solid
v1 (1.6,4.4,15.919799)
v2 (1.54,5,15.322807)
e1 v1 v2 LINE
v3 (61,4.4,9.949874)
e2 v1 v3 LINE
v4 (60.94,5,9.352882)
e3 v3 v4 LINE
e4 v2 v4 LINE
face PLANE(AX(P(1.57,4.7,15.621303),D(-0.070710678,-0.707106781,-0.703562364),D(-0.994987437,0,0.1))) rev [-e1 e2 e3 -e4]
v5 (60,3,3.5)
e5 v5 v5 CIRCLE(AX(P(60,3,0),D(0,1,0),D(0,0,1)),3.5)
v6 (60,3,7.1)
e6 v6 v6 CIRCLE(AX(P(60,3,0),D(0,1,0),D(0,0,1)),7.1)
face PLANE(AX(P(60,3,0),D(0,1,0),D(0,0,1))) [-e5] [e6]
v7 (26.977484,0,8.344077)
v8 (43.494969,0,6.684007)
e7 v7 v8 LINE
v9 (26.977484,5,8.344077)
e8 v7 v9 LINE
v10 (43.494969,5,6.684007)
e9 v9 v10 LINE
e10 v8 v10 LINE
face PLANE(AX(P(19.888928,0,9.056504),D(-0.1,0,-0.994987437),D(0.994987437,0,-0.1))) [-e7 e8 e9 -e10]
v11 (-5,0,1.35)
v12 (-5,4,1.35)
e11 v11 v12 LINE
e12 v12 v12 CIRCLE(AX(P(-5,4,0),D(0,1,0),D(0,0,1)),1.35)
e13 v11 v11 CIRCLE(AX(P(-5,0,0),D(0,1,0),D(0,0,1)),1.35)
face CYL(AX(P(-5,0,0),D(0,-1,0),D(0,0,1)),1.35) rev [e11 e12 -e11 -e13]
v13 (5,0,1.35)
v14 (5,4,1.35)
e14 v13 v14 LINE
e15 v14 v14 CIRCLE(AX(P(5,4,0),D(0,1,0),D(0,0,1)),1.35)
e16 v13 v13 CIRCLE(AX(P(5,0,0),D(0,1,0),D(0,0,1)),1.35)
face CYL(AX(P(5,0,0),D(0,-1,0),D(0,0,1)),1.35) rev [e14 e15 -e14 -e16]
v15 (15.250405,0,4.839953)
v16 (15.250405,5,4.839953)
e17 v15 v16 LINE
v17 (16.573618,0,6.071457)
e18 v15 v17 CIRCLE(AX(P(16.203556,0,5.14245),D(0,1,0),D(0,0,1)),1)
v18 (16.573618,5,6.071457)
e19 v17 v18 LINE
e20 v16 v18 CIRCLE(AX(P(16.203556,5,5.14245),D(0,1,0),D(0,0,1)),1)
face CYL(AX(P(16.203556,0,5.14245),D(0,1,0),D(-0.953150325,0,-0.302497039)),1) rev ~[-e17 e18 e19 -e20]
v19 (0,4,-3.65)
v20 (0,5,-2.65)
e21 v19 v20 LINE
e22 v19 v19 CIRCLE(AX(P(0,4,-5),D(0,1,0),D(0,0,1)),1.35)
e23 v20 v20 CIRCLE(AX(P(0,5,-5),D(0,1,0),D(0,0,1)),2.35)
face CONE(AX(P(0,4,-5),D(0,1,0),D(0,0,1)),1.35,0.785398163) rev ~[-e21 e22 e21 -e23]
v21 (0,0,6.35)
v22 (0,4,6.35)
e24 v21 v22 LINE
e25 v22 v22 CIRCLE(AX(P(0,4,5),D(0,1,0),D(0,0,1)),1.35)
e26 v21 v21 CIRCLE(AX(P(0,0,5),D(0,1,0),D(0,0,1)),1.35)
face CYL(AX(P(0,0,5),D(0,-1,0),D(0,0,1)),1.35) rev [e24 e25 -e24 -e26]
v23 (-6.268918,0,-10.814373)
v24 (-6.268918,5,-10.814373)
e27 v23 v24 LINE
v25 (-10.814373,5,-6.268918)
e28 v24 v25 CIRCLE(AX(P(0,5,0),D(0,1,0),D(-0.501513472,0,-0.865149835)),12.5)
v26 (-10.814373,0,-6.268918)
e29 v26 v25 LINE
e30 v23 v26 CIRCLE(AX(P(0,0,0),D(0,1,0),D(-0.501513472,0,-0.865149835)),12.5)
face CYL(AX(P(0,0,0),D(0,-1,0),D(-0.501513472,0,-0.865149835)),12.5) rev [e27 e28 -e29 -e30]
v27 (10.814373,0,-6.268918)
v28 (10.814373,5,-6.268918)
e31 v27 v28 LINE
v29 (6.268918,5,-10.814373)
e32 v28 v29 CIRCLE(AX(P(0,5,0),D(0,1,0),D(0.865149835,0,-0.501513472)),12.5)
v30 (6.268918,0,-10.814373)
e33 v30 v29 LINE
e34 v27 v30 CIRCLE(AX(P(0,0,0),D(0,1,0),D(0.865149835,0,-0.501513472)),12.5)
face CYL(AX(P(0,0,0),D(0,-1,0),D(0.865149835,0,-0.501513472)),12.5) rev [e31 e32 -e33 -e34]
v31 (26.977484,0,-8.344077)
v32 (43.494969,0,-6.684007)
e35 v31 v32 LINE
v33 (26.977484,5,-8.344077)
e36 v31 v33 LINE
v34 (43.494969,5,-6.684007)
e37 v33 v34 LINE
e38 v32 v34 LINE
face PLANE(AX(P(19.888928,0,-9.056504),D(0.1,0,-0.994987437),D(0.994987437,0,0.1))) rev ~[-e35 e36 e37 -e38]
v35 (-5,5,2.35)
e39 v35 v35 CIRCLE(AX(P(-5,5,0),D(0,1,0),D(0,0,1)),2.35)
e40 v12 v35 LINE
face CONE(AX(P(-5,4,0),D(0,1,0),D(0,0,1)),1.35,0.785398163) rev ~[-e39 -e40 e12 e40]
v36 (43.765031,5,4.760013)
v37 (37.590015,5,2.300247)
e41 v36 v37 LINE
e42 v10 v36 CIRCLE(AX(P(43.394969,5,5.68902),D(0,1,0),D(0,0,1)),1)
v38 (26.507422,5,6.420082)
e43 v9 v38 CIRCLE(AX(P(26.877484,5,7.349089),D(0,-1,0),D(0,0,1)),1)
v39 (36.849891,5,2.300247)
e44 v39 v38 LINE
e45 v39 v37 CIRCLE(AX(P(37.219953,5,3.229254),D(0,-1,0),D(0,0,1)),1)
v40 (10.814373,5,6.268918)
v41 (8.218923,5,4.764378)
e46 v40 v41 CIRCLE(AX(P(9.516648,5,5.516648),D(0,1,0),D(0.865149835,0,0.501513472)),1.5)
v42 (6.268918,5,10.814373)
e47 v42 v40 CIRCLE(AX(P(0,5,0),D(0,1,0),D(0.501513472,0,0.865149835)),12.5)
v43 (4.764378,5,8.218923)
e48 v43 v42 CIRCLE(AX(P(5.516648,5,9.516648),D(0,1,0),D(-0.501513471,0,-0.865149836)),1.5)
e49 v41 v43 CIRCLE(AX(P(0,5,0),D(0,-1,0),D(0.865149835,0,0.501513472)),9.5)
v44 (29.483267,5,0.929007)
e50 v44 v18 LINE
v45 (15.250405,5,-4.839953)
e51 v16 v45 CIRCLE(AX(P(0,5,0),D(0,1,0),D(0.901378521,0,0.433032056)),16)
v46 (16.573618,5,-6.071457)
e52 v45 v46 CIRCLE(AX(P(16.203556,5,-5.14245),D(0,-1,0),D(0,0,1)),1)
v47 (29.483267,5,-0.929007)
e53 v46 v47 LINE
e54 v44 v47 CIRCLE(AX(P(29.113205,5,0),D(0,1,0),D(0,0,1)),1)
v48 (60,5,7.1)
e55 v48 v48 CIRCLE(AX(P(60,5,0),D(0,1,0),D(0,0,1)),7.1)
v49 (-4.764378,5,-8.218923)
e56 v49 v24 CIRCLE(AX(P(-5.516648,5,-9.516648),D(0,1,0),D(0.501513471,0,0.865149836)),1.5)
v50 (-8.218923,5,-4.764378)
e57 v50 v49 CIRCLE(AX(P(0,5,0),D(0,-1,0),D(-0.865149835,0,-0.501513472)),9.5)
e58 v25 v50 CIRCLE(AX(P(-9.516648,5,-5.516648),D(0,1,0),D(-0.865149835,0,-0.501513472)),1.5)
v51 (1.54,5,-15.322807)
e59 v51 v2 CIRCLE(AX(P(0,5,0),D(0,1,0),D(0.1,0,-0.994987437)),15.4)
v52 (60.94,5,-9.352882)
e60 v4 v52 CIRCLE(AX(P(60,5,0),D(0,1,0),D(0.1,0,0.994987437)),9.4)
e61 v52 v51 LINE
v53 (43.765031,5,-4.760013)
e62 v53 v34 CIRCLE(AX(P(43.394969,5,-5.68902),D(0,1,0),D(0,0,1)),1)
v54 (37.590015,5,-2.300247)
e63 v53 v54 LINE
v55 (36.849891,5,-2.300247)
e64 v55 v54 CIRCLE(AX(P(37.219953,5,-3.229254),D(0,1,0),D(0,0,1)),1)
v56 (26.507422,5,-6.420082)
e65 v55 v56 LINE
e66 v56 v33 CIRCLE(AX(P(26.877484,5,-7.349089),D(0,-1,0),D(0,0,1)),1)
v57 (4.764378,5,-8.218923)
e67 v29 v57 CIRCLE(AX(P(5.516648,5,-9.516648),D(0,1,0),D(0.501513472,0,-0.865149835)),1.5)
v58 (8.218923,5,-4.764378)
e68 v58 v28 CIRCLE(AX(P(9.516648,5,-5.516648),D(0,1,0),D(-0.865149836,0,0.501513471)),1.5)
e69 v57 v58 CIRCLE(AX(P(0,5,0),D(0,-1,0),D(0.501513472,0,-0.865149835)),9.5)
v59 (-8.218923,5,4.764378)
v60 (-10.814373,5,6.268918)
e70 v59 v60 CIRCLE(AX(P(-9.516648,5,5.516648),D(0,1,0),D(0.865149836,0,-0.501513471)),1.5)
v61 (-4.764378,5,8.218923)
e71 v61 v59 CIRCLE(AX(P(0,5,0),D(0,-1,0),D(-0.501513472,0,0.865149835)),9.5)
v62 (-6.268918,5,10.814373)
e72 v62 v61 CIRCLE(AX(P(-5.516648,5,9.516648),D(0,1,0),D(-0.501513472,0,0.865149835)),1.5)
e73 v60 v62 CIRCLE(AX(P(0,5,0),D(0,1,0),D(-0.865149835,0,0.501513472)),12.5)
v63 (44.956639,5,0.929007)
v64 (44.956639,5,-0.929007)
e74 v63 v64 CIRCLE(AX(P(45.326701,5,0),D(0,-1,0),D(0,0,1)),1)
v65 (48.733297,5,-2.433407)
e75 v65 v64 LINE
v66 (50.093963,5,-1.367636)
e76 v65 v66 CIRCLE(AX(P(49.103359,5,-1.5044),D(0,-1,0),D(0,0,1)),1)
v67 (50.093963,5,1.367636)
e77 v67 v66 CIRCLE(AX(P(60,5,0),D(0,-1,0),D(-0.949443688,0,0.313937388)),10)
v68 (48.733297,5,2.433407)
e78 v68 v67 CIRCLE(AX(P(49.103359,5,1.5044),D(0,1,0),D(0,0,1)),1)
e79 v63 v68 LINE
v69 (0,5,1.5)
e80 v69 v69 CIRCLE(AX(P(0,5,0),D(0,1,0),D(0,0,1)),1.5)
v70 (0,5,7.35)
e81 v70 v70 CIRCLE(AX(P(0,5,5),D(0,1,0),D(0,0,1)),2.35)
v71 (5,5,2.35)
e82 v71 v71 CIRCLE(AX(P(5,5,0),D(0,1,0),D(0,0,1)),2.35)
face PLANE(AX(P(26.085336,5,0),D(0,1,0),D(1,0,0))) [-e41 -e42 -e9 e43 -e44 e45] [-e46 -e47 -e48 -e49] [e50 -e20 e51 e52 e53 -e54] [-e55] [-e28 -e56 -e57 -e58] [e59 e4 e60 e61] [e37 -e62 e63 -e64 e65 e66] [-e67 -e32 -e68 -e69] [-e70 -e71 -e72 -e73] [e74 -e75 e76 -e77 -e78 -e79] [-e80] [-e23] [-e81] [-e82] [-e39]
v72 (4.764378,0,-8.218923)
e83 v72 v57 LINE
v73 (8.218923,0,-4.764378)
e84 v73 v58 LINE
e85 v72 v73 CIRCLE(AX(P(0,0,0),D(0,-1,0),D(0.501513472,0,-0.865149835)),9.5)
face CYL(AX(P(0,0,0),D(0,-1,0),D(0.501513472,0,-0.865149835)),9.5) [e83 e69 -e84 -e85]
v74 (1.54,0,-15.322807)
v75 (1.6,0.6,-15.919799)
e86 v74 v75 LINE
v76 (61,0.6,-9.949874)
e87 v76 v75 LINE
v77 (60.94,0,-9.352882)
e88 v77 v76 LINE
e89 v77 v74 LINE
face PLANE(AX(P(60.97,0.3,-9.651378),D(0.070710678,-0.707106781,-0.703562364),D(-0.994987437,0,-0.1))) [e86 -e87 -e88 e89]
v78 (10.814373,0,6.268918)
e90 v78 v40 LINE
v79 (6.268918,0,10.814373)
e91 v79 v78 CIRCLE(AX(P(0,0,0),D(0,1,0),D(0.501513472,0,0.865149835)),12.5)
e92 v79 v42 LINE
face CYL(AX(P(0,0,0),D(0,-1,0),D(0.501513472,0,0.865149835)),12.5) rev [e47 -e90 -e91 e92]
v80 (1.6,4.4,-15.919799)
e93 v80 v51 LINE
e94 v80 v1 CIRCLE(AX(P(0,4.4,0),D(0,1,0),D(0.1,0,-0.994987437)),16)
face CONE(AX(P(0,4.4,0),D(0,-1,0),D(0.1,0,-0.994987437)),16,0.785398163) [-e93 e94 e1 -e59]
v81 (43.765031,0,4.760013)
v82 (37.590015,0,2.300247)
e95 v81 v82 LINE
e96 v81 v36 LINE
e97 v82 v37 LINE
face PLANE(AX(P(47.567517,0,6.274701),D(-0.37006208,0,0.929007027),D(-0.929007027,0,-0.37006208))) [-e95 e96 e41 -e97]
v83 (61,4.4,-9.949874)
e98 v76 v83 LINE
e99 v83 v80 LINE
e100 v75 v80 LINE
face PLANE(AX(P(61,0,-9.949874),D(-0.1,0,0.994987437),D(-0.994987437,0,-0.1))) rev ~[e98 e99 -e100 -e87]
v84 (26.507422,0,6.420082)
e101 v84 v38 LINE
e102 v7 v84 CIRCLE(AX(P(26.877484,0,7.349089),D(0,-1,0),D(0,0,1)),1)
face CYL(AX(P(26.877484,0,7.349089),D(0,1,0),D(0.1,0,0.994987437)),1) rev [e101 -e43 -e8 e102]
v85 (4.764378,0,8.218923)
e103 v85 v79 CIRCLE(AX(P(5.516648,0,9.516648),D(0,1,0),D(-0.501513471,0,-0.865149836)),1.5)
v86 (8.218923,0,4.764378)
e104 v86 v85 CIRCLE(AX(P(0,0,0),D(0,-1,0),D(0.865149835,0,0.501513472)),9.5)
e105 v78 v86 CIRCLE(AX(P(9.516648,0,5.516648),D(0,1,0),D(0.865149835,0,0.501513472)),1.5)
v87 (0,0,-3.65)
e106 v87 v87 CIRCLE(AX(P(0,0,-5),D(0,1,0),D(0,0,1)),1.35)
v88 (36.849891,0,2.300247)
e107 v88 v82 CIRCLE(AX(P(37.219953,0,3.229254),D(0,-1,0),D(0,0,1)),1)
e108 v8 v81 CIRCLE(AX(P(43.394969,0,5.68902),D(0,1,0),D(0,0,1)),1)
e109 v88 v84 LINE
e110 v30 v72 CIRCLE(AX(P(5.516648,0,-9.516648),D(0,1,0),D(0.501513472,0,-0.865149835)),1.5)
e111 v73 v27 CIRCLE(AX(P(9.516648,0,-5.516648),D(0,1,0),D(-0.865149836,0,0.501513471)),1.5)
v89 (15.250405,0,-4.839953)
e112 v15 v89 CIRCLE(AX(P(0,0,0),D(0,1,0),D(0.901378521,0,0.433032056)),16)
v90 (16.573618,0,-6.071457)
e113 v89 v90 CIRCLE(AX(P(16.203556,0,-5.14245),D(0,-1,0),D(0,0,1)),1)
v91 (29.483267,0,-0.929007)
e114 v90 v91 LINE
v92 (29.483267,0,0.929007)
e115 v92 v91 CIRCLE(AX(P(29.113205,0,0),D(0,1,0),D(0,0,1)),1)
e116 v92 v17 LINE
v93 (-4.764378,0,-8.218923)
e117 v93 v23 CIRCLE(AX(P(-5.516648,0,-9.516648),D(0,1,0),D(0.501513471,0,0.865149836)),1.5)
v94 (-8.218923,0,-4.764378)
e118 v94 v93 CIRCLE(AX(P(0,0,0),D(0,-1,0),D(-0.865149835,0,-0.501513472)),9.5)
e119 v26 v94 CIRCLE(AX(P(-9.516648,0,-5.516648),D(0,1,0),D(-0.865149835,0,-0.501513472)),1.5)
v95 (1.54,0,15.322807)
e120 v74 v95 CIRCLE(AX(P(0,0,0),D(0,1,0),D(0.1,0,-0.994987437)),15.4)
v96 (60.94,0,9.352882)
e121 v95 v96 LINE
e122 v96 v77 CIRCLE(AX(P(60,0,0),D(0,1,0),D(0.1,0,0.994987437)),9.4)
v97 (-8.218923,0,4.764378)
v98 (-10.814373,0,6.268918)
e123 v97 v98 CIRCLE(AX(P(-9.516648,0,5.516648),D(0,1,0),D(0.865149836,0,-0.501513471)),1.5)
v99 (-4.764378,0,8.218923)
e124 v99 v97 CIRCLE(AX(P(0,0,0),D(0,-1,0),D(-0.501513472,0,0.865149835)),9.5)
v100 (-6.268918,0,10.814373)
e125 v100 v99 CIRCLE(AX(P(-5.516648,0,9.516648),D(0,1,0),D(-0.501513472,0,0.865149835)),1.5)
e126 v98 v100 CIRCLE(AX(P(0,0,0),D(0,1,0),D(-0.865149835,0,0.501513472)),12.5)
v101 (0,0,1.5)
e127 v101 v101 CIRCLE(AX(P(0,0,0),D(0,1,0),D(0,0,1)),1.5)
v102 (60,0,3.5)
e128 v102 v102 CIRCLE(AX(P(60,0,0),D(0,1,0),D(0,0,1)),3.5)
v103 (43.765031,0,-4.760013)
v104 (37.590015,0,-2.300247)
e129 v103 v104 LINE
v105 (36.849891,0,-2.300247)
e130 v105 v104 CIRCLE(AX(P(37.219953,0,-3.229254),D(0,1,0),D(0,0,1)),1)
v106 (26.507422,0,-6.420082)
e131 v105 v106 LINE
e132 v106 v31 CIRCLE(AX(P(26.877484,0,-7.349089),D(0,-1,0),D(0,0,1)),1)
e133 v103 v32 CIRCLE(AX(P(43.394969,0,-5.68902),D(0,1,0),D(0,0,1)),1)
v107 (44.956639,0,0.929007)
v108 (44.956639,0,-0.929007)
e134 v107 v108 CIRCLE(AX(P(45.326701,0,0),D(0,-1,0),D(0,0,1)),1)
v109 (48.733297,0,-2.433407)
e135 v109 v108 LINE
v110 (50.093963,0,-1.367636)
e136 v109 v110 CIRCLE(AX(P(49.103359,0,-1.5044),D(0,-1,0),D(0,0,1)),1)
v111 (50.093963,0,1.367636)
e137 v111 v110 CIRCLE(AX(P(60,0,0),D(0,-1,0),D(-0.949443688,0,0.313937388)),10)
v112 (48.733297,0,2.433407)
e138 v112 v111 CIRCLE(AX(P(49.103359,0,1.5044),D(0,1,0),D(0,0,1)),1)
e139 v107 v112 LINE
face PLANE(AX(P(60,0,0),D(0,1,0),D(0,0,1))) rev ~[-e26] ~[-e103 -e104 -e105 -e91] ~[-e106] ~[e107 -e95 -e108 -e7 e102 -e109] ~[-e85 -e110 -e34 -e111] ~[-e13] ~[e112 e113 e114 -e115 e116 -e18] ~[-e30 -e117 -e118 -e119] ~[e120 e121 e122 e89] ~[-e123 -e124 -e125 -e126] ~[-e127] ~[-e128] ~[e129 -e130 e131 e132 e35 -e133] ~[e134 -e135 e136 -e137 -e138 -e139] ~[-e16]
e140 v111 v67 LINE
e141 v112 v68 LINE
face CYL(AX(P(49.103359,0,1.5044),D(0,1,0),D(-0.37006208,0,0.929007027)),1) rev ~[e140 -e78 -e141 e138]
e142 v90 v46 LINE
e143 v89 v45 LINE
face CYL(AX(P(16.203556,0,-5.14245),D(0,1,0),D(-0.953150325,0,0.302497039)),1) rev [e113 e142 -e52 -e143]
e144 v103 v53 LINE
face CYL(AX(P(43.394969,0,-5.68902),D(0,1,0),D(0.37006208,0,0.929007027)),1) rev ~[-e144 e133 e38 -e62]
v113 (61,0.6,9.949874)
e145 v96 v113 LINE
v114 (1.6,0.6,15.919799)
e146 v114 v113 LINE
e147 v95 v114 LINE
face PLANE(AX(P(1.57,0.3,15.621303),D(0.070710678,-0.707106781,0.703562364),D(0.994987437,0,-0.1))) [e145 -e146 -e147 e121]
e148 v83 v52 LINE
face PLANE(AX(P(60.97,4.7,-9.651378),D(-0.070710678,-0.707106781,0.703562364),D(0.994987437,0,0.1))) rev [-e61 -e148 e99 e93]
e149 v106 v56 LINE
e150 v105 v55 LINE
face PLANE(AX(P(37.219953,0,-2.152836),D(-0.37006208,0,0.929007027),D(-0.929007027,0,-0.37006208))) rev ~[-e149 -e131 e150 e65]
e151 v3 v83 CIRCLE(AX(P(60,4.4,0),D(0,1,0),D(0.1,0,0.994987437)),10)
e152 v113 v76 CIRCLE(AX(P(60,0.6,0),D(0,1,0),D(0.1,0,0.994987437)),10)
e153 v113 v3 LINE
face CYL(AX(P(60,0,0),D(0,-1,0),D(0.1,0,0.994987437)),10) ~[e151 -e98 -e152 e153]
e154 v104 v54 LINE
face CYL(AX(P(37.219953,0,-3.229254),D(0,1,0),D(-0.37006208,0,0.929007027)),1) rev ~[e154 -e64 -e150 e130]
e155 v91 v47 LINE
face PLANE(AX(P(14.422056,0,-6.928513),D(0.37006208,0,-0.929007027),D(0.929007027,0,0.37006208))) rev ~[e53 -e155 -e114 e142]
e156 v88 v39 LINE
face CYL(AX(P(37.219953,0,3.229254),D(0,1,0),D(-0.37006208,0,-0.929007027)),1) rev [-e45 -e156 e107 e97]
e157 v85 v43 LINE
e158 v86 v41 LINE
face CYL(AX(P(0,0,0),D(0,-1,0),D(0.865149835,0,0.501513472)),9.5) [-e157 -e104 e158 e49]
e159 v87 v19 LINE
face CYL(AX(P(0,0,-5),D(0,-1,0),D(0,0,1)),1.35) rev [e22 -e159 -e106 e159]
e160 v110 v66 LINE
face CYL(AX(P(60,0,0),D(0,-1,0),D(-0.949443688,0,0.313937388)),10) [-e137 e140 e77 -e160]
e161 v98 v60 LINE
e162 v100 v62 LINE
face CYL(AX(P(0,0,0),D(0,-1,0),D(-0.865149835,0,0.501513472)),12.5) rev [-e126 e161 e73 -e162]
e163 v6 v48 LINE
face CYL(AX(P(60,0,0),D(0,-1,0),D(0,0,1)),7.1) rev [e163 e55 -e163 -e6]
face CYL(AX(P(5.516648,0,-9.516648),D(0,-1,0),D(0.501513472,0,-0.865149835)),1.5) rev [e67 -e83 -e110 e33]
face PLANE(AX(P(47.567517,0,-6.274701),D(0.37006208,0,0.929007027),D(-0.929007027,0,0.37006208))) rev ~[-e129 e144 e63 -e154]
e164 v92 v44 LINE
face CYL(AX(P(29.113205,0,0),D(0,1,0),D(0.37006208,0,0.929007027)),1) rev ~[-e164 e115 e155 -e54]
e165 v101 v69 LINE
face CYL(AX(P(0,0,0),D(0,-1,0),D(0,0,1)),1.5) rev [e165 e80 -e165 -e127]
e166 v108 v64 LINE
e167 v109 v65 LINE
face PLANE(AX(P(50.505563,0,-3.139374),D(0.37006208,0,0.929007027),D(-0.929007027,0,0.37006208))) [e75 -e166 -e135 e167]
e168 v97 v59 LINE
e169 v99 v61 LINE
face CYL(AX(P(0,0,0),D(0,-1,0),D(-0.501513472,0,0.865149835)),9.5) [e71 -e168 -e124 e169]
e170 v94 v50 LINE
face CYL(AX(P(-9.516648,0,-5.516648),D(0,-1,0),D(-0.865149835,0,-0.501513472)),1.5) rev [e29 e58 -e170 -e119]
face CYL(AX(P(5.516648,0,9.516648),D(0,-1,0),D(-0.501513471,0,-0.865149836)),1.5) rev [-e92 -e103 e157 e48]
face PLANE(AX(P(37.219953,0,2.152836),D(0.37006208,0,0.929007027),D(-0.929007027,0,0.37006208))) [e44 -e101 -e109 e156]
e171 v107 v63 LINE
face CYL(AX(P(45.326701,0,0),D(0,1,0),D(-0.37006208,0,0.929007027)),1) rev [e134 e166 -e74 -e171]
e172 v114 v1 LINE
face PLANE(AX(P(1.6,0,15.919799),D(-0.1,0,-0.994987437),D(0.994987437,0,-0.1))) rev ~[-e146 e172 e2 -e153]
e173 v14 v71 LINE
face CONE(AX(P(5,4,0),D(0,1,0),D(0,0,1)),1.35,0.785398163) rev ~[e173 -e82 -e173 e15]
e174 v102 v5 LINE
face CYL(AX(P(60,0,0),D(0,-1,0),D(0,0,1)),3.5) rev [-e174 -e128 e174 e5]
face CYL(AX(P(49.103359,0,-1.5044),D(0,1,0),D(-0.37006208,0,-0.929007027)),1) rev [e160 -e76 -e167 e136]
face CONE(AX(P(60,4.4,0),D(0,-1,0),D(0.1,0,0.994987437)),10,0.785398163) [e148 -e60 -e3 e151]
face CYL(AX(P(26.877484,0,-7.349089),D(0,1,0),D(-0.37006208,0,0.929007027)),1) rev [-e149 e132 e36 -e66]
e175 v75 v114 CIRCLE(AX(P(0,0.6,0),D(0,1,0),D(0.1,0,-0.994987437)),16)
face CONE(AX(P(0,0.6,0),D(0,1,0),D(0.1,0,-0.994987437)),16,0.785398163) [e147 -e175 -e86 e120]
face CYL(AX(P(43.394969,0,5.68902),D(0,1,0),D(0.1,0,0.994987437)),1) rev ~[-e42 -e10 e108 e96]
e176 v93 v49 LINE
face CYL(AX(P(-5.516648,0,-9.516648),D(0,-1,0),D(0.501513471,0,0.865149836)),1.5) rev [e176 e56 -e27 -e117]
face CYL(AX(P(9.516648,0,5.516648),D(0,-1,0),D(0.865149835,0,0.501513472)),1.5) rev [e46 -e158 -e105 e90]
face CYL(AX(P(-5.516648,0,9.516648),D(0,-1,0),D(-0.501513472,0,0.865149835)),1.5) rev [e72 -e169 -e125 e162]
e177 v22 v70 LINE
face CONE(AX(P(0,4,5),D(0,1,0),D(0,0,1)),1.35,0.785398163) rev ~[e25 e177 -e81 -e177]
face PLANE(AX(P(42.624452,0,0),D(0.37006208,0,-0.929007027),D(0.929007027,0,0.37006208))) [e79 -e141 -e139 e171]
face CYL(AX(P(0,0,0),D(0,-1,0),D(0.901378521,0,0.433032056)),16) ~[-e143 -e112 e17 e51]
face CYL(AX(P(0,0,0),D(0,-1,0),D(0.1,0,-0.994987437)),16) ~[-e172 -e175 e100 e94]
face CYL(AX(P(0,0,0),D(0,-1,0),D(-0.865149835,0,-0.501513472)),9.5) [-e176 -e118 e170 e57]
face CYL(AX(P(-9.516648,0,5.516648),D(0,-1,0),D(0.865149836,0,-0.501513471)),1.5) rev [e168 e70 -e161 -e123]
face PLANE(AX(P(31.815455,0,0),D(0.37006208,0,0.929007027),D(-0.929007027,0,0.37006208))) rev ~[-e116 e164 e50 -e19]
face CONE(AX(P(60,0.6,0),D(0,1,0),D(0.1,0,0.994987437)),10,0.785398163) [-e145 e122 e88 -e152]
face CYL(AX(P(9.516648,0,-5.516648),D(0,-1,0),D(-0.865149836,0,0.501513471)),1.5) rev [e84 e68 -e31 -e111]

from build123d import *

# Parameters (mm, degrees)
SKETCH_1_R      = 1.35
SKETCH_1_R_2    = 1.5
SKETCH_1_R_3    = 7.1
EXTRUDE_1_DEPTH = 5
SKETCH_1_3_R    = 7.1
SKETCH_1_3_R_2  = 3.5
EXTRUDE_2_DEPTH = 3
FILLET_1_R      = 1
CHAMFER_1_SIZE  = 0.6
CHAMFER_2_SIZE  = 1


with BuildPart() as part:
    # 草图1 → 凸台-拉伸1 (new body)
    with BuildSketch(Plane(origin=(0, 0, 0), x_dir=(1, 0, 0), z_dir=(0, 1, 0))):
        with BuildLine():
            ThreePointArc((1.6, 15.919798994), (-16, 0), (1.6, -15.919798994))
            Line((1.6, -15.919798994), (61, -9.949874371))
            ThreePointArc((61, -9.949874371), (70, 0), (61, 9.949874371))
            Line((61, 9.949874371), (1.6, 15.919798994))
        make_face()
        with BuildLine():
            ThreePointArc((-6.268918397, -10.814372942), (-8.838834765, -8.838834765), (-10.814372942, -6.268918397))
            ThreePointArc((-10.814372942, -6.268918397), (-10.268918397, -4.218923436), (-8.218923436, -4.764377982))
            ThreePointArc((-8.218923436, -4.764377982), (-6.717514421, -6.717514421), (-4.764377982, -8.218923436))
            ThreePointArc((-4.764377982, -8.218923436), (-4.218923436, -10.268918397), (-6.268918397, -10.814372942))
        make_face(mode=Mode.SUBTRACT)
        with Locations((0, -5)):
            Circle(SKETCH_1_R, mode=Mode.SUBTRACT)
        with BuildLine():
            ThreePointArc((10.814372942, -6.268918397), (8.838834765, -8.838834765), (6.268918397, -10.814372942))
            ThreePointArc((6.268918397, -10.814372942), (4.218923436, -10.268918397), (4.764377982, -8.218923436))
            ThreePointArc((4.764377982, -8.218923436), (6.717514421, -6.717514421), (8.218923436, -4.764377982))
            ThreePointArc((8.218923436, -4.764377982), (10.268918397, -4.218923436), (10.814372942, -6.268918397))
        make_face(mode=Mode.SUBTRACT)
        with BuildLine():
            ThreePointArc((14.422056339, -6.928512895), (16, 0), (14.422056339, 6.928512895))
            Line((14.422056339, 6.928512895), (31.815454695, 0))
            Line((31.815454695, 0), (14.422056339, -6.928512895))
        make_face(mode=Mode.SUBTRACT)
        Polygon((47.567517096, -6.274700622), (19.888927579, -9.056503536), (37.219953316, -2.152836244), align=None, mode=Mode.SUBTRACT)
        with Locations((-5, 0)):
            Circle(SKETCH_1_R, mode=Mode.SUBTRACT)
        Circle(SKETCH_1_R_2, mode=Mode.SUBTRACT)
        with Locations((5, 0)):
            Circle(SKETCH_1_R, mode=Mode.SUBTRACT)
        with BuildLine():
            ThreePointArc((-10.814372942, 6.268918397), (-8.838834765, 8.838834765), (-6.268918397, 10.814372942))
            ThreePointArc((-6.268918397, 10.814372942), (-4.218923436, 10.268918397), (-4.764377982, 8.218923436))
            ThreePointArc((-4.764377982, 8.218923436), (-6.717514421, 6.717514421), (-8.218923436, 4.764377982))
            ThreePointArc((-8.218923436, 4.764377982), (-10.268918397, 4.218923436), (-10.814372942, 6.268918397))
        make_face(mode=Mode.SUBTRACT)
        with Locations((0, 5)):
            Circle(SKETCH_1_R, mode=Mode.SUBTRACT)
        with BuildLine():
            ThreePointArc((6.268918397, 10.814372942), (8.838834765, 8.838834765), (10.814372942, 6.268918397))
            ThreePointArc((10.814372942, 6.268918397), (10.268918397, 4.218923436), (8.218923436, 4.764377982))
            ThreePointArc((8.218923436, 4.764377982), (6.717514421, 6.717514421), (4.764377982, 8.218923436))
            ThreePointArc((4.764377982, 8.218923436), (4.218923436, 10.268918397), (6.268918397, 10.814372942))
        make_face(mode=Mode.SUBTRACT)
        with BuildLine():
            Line((50.505563121, -3.139373879), (42.624451937, 0))
            Line((42.624451937, 0), (50.505563121, 3.139373879))
            ThreePointArc((50.505563121, 3.139373879), (50, 0), (50.505563121, -3.139373879))
        make_face(mode=Mode.SUBTRACT)
        Polygon((37.219953316, 2.152836244), (19.888927579, 9.056503536), (47.567517096, 6.274700622), align=None, mode=Mode.SUBTRACT)
        with Locations((60, 0)):
            Circle(SKETCH_1_R_3, mode=Mode.SUBTRACT)
    extrude(amount=EXTRUDE_1_DEPTH)

    # 草图1<3> → 凸台-拉伸2 (add)
    with BuildSketch(Plane(origin=(0, 0, 0), x_dir=(1, 0, 0), z_dir=(0, 1, 0))):
        with Locations((60, 0)):
            Circle(SKETCH_1_3_R)
        with Locations((60, 0)):
            Circle(SKETCH_1_3_R_2, mode=Mode.SUBTRACT)
    extrude(amount=EXTRUDE_2_DEPTH)

    # 圆角1
    fillet_1_edges = [part.edges().sort_by_distance(p)[0] for p in [
        (42.624451937, 2.5, 0),
        (50.505563121, 2.5, -3.139373879),
        (50.505563121, 2.5, 3.139373879),
        (47.567517096, 2.5, -6.274700622),
        (19.888927579, 2.5, -9.056503536),
        (37.219953316, 2.5, -2.152836244),
        (31.815454695, 2.5, 0),
        (14.422056339, 2.5, -6.928512895),
        (14.422056339, 2.5, 6.928512895),
        (19.888927579, 2.5, 9.056503536),
        (37.219953316, 2.5, 2.152836244),
        (47.567517096, 2.5, 6.274700622),
    ]]
    fillet(fillet_1_edges, radius=FILLET_1_R)

    # 倒角1
    chamfer_1_edges = [part.edges().sort_by_distance(p)[0] for p in [
        (31.3, 5, 12.934836682),
        (-16, 5, 0),
        (70, 5, 0),
        (31.3, 5, -12.934836682),
        (31.3, 0, 12.934836682),
        (-16, 0, 0),
        (70, 0, 0),
        (31.3, 0, -12.934836682),
    ]]
    chamfer(chamfer_1_edges, length=CHAMFER_1_SIZE)

    # 倒角2
    chamfer_2_edges = [part.edges().sort_by_distance(p)[0] for p in [
        (-6.35, 5, 0),
        (-1.35, 5, 5),
        (3.65, 5, 0),
        (-1.35, 5, -5),
    ]]
    chamfer(chamfer_2_edges, length=CHAMFER_2_SIZE)


solid = part.part
